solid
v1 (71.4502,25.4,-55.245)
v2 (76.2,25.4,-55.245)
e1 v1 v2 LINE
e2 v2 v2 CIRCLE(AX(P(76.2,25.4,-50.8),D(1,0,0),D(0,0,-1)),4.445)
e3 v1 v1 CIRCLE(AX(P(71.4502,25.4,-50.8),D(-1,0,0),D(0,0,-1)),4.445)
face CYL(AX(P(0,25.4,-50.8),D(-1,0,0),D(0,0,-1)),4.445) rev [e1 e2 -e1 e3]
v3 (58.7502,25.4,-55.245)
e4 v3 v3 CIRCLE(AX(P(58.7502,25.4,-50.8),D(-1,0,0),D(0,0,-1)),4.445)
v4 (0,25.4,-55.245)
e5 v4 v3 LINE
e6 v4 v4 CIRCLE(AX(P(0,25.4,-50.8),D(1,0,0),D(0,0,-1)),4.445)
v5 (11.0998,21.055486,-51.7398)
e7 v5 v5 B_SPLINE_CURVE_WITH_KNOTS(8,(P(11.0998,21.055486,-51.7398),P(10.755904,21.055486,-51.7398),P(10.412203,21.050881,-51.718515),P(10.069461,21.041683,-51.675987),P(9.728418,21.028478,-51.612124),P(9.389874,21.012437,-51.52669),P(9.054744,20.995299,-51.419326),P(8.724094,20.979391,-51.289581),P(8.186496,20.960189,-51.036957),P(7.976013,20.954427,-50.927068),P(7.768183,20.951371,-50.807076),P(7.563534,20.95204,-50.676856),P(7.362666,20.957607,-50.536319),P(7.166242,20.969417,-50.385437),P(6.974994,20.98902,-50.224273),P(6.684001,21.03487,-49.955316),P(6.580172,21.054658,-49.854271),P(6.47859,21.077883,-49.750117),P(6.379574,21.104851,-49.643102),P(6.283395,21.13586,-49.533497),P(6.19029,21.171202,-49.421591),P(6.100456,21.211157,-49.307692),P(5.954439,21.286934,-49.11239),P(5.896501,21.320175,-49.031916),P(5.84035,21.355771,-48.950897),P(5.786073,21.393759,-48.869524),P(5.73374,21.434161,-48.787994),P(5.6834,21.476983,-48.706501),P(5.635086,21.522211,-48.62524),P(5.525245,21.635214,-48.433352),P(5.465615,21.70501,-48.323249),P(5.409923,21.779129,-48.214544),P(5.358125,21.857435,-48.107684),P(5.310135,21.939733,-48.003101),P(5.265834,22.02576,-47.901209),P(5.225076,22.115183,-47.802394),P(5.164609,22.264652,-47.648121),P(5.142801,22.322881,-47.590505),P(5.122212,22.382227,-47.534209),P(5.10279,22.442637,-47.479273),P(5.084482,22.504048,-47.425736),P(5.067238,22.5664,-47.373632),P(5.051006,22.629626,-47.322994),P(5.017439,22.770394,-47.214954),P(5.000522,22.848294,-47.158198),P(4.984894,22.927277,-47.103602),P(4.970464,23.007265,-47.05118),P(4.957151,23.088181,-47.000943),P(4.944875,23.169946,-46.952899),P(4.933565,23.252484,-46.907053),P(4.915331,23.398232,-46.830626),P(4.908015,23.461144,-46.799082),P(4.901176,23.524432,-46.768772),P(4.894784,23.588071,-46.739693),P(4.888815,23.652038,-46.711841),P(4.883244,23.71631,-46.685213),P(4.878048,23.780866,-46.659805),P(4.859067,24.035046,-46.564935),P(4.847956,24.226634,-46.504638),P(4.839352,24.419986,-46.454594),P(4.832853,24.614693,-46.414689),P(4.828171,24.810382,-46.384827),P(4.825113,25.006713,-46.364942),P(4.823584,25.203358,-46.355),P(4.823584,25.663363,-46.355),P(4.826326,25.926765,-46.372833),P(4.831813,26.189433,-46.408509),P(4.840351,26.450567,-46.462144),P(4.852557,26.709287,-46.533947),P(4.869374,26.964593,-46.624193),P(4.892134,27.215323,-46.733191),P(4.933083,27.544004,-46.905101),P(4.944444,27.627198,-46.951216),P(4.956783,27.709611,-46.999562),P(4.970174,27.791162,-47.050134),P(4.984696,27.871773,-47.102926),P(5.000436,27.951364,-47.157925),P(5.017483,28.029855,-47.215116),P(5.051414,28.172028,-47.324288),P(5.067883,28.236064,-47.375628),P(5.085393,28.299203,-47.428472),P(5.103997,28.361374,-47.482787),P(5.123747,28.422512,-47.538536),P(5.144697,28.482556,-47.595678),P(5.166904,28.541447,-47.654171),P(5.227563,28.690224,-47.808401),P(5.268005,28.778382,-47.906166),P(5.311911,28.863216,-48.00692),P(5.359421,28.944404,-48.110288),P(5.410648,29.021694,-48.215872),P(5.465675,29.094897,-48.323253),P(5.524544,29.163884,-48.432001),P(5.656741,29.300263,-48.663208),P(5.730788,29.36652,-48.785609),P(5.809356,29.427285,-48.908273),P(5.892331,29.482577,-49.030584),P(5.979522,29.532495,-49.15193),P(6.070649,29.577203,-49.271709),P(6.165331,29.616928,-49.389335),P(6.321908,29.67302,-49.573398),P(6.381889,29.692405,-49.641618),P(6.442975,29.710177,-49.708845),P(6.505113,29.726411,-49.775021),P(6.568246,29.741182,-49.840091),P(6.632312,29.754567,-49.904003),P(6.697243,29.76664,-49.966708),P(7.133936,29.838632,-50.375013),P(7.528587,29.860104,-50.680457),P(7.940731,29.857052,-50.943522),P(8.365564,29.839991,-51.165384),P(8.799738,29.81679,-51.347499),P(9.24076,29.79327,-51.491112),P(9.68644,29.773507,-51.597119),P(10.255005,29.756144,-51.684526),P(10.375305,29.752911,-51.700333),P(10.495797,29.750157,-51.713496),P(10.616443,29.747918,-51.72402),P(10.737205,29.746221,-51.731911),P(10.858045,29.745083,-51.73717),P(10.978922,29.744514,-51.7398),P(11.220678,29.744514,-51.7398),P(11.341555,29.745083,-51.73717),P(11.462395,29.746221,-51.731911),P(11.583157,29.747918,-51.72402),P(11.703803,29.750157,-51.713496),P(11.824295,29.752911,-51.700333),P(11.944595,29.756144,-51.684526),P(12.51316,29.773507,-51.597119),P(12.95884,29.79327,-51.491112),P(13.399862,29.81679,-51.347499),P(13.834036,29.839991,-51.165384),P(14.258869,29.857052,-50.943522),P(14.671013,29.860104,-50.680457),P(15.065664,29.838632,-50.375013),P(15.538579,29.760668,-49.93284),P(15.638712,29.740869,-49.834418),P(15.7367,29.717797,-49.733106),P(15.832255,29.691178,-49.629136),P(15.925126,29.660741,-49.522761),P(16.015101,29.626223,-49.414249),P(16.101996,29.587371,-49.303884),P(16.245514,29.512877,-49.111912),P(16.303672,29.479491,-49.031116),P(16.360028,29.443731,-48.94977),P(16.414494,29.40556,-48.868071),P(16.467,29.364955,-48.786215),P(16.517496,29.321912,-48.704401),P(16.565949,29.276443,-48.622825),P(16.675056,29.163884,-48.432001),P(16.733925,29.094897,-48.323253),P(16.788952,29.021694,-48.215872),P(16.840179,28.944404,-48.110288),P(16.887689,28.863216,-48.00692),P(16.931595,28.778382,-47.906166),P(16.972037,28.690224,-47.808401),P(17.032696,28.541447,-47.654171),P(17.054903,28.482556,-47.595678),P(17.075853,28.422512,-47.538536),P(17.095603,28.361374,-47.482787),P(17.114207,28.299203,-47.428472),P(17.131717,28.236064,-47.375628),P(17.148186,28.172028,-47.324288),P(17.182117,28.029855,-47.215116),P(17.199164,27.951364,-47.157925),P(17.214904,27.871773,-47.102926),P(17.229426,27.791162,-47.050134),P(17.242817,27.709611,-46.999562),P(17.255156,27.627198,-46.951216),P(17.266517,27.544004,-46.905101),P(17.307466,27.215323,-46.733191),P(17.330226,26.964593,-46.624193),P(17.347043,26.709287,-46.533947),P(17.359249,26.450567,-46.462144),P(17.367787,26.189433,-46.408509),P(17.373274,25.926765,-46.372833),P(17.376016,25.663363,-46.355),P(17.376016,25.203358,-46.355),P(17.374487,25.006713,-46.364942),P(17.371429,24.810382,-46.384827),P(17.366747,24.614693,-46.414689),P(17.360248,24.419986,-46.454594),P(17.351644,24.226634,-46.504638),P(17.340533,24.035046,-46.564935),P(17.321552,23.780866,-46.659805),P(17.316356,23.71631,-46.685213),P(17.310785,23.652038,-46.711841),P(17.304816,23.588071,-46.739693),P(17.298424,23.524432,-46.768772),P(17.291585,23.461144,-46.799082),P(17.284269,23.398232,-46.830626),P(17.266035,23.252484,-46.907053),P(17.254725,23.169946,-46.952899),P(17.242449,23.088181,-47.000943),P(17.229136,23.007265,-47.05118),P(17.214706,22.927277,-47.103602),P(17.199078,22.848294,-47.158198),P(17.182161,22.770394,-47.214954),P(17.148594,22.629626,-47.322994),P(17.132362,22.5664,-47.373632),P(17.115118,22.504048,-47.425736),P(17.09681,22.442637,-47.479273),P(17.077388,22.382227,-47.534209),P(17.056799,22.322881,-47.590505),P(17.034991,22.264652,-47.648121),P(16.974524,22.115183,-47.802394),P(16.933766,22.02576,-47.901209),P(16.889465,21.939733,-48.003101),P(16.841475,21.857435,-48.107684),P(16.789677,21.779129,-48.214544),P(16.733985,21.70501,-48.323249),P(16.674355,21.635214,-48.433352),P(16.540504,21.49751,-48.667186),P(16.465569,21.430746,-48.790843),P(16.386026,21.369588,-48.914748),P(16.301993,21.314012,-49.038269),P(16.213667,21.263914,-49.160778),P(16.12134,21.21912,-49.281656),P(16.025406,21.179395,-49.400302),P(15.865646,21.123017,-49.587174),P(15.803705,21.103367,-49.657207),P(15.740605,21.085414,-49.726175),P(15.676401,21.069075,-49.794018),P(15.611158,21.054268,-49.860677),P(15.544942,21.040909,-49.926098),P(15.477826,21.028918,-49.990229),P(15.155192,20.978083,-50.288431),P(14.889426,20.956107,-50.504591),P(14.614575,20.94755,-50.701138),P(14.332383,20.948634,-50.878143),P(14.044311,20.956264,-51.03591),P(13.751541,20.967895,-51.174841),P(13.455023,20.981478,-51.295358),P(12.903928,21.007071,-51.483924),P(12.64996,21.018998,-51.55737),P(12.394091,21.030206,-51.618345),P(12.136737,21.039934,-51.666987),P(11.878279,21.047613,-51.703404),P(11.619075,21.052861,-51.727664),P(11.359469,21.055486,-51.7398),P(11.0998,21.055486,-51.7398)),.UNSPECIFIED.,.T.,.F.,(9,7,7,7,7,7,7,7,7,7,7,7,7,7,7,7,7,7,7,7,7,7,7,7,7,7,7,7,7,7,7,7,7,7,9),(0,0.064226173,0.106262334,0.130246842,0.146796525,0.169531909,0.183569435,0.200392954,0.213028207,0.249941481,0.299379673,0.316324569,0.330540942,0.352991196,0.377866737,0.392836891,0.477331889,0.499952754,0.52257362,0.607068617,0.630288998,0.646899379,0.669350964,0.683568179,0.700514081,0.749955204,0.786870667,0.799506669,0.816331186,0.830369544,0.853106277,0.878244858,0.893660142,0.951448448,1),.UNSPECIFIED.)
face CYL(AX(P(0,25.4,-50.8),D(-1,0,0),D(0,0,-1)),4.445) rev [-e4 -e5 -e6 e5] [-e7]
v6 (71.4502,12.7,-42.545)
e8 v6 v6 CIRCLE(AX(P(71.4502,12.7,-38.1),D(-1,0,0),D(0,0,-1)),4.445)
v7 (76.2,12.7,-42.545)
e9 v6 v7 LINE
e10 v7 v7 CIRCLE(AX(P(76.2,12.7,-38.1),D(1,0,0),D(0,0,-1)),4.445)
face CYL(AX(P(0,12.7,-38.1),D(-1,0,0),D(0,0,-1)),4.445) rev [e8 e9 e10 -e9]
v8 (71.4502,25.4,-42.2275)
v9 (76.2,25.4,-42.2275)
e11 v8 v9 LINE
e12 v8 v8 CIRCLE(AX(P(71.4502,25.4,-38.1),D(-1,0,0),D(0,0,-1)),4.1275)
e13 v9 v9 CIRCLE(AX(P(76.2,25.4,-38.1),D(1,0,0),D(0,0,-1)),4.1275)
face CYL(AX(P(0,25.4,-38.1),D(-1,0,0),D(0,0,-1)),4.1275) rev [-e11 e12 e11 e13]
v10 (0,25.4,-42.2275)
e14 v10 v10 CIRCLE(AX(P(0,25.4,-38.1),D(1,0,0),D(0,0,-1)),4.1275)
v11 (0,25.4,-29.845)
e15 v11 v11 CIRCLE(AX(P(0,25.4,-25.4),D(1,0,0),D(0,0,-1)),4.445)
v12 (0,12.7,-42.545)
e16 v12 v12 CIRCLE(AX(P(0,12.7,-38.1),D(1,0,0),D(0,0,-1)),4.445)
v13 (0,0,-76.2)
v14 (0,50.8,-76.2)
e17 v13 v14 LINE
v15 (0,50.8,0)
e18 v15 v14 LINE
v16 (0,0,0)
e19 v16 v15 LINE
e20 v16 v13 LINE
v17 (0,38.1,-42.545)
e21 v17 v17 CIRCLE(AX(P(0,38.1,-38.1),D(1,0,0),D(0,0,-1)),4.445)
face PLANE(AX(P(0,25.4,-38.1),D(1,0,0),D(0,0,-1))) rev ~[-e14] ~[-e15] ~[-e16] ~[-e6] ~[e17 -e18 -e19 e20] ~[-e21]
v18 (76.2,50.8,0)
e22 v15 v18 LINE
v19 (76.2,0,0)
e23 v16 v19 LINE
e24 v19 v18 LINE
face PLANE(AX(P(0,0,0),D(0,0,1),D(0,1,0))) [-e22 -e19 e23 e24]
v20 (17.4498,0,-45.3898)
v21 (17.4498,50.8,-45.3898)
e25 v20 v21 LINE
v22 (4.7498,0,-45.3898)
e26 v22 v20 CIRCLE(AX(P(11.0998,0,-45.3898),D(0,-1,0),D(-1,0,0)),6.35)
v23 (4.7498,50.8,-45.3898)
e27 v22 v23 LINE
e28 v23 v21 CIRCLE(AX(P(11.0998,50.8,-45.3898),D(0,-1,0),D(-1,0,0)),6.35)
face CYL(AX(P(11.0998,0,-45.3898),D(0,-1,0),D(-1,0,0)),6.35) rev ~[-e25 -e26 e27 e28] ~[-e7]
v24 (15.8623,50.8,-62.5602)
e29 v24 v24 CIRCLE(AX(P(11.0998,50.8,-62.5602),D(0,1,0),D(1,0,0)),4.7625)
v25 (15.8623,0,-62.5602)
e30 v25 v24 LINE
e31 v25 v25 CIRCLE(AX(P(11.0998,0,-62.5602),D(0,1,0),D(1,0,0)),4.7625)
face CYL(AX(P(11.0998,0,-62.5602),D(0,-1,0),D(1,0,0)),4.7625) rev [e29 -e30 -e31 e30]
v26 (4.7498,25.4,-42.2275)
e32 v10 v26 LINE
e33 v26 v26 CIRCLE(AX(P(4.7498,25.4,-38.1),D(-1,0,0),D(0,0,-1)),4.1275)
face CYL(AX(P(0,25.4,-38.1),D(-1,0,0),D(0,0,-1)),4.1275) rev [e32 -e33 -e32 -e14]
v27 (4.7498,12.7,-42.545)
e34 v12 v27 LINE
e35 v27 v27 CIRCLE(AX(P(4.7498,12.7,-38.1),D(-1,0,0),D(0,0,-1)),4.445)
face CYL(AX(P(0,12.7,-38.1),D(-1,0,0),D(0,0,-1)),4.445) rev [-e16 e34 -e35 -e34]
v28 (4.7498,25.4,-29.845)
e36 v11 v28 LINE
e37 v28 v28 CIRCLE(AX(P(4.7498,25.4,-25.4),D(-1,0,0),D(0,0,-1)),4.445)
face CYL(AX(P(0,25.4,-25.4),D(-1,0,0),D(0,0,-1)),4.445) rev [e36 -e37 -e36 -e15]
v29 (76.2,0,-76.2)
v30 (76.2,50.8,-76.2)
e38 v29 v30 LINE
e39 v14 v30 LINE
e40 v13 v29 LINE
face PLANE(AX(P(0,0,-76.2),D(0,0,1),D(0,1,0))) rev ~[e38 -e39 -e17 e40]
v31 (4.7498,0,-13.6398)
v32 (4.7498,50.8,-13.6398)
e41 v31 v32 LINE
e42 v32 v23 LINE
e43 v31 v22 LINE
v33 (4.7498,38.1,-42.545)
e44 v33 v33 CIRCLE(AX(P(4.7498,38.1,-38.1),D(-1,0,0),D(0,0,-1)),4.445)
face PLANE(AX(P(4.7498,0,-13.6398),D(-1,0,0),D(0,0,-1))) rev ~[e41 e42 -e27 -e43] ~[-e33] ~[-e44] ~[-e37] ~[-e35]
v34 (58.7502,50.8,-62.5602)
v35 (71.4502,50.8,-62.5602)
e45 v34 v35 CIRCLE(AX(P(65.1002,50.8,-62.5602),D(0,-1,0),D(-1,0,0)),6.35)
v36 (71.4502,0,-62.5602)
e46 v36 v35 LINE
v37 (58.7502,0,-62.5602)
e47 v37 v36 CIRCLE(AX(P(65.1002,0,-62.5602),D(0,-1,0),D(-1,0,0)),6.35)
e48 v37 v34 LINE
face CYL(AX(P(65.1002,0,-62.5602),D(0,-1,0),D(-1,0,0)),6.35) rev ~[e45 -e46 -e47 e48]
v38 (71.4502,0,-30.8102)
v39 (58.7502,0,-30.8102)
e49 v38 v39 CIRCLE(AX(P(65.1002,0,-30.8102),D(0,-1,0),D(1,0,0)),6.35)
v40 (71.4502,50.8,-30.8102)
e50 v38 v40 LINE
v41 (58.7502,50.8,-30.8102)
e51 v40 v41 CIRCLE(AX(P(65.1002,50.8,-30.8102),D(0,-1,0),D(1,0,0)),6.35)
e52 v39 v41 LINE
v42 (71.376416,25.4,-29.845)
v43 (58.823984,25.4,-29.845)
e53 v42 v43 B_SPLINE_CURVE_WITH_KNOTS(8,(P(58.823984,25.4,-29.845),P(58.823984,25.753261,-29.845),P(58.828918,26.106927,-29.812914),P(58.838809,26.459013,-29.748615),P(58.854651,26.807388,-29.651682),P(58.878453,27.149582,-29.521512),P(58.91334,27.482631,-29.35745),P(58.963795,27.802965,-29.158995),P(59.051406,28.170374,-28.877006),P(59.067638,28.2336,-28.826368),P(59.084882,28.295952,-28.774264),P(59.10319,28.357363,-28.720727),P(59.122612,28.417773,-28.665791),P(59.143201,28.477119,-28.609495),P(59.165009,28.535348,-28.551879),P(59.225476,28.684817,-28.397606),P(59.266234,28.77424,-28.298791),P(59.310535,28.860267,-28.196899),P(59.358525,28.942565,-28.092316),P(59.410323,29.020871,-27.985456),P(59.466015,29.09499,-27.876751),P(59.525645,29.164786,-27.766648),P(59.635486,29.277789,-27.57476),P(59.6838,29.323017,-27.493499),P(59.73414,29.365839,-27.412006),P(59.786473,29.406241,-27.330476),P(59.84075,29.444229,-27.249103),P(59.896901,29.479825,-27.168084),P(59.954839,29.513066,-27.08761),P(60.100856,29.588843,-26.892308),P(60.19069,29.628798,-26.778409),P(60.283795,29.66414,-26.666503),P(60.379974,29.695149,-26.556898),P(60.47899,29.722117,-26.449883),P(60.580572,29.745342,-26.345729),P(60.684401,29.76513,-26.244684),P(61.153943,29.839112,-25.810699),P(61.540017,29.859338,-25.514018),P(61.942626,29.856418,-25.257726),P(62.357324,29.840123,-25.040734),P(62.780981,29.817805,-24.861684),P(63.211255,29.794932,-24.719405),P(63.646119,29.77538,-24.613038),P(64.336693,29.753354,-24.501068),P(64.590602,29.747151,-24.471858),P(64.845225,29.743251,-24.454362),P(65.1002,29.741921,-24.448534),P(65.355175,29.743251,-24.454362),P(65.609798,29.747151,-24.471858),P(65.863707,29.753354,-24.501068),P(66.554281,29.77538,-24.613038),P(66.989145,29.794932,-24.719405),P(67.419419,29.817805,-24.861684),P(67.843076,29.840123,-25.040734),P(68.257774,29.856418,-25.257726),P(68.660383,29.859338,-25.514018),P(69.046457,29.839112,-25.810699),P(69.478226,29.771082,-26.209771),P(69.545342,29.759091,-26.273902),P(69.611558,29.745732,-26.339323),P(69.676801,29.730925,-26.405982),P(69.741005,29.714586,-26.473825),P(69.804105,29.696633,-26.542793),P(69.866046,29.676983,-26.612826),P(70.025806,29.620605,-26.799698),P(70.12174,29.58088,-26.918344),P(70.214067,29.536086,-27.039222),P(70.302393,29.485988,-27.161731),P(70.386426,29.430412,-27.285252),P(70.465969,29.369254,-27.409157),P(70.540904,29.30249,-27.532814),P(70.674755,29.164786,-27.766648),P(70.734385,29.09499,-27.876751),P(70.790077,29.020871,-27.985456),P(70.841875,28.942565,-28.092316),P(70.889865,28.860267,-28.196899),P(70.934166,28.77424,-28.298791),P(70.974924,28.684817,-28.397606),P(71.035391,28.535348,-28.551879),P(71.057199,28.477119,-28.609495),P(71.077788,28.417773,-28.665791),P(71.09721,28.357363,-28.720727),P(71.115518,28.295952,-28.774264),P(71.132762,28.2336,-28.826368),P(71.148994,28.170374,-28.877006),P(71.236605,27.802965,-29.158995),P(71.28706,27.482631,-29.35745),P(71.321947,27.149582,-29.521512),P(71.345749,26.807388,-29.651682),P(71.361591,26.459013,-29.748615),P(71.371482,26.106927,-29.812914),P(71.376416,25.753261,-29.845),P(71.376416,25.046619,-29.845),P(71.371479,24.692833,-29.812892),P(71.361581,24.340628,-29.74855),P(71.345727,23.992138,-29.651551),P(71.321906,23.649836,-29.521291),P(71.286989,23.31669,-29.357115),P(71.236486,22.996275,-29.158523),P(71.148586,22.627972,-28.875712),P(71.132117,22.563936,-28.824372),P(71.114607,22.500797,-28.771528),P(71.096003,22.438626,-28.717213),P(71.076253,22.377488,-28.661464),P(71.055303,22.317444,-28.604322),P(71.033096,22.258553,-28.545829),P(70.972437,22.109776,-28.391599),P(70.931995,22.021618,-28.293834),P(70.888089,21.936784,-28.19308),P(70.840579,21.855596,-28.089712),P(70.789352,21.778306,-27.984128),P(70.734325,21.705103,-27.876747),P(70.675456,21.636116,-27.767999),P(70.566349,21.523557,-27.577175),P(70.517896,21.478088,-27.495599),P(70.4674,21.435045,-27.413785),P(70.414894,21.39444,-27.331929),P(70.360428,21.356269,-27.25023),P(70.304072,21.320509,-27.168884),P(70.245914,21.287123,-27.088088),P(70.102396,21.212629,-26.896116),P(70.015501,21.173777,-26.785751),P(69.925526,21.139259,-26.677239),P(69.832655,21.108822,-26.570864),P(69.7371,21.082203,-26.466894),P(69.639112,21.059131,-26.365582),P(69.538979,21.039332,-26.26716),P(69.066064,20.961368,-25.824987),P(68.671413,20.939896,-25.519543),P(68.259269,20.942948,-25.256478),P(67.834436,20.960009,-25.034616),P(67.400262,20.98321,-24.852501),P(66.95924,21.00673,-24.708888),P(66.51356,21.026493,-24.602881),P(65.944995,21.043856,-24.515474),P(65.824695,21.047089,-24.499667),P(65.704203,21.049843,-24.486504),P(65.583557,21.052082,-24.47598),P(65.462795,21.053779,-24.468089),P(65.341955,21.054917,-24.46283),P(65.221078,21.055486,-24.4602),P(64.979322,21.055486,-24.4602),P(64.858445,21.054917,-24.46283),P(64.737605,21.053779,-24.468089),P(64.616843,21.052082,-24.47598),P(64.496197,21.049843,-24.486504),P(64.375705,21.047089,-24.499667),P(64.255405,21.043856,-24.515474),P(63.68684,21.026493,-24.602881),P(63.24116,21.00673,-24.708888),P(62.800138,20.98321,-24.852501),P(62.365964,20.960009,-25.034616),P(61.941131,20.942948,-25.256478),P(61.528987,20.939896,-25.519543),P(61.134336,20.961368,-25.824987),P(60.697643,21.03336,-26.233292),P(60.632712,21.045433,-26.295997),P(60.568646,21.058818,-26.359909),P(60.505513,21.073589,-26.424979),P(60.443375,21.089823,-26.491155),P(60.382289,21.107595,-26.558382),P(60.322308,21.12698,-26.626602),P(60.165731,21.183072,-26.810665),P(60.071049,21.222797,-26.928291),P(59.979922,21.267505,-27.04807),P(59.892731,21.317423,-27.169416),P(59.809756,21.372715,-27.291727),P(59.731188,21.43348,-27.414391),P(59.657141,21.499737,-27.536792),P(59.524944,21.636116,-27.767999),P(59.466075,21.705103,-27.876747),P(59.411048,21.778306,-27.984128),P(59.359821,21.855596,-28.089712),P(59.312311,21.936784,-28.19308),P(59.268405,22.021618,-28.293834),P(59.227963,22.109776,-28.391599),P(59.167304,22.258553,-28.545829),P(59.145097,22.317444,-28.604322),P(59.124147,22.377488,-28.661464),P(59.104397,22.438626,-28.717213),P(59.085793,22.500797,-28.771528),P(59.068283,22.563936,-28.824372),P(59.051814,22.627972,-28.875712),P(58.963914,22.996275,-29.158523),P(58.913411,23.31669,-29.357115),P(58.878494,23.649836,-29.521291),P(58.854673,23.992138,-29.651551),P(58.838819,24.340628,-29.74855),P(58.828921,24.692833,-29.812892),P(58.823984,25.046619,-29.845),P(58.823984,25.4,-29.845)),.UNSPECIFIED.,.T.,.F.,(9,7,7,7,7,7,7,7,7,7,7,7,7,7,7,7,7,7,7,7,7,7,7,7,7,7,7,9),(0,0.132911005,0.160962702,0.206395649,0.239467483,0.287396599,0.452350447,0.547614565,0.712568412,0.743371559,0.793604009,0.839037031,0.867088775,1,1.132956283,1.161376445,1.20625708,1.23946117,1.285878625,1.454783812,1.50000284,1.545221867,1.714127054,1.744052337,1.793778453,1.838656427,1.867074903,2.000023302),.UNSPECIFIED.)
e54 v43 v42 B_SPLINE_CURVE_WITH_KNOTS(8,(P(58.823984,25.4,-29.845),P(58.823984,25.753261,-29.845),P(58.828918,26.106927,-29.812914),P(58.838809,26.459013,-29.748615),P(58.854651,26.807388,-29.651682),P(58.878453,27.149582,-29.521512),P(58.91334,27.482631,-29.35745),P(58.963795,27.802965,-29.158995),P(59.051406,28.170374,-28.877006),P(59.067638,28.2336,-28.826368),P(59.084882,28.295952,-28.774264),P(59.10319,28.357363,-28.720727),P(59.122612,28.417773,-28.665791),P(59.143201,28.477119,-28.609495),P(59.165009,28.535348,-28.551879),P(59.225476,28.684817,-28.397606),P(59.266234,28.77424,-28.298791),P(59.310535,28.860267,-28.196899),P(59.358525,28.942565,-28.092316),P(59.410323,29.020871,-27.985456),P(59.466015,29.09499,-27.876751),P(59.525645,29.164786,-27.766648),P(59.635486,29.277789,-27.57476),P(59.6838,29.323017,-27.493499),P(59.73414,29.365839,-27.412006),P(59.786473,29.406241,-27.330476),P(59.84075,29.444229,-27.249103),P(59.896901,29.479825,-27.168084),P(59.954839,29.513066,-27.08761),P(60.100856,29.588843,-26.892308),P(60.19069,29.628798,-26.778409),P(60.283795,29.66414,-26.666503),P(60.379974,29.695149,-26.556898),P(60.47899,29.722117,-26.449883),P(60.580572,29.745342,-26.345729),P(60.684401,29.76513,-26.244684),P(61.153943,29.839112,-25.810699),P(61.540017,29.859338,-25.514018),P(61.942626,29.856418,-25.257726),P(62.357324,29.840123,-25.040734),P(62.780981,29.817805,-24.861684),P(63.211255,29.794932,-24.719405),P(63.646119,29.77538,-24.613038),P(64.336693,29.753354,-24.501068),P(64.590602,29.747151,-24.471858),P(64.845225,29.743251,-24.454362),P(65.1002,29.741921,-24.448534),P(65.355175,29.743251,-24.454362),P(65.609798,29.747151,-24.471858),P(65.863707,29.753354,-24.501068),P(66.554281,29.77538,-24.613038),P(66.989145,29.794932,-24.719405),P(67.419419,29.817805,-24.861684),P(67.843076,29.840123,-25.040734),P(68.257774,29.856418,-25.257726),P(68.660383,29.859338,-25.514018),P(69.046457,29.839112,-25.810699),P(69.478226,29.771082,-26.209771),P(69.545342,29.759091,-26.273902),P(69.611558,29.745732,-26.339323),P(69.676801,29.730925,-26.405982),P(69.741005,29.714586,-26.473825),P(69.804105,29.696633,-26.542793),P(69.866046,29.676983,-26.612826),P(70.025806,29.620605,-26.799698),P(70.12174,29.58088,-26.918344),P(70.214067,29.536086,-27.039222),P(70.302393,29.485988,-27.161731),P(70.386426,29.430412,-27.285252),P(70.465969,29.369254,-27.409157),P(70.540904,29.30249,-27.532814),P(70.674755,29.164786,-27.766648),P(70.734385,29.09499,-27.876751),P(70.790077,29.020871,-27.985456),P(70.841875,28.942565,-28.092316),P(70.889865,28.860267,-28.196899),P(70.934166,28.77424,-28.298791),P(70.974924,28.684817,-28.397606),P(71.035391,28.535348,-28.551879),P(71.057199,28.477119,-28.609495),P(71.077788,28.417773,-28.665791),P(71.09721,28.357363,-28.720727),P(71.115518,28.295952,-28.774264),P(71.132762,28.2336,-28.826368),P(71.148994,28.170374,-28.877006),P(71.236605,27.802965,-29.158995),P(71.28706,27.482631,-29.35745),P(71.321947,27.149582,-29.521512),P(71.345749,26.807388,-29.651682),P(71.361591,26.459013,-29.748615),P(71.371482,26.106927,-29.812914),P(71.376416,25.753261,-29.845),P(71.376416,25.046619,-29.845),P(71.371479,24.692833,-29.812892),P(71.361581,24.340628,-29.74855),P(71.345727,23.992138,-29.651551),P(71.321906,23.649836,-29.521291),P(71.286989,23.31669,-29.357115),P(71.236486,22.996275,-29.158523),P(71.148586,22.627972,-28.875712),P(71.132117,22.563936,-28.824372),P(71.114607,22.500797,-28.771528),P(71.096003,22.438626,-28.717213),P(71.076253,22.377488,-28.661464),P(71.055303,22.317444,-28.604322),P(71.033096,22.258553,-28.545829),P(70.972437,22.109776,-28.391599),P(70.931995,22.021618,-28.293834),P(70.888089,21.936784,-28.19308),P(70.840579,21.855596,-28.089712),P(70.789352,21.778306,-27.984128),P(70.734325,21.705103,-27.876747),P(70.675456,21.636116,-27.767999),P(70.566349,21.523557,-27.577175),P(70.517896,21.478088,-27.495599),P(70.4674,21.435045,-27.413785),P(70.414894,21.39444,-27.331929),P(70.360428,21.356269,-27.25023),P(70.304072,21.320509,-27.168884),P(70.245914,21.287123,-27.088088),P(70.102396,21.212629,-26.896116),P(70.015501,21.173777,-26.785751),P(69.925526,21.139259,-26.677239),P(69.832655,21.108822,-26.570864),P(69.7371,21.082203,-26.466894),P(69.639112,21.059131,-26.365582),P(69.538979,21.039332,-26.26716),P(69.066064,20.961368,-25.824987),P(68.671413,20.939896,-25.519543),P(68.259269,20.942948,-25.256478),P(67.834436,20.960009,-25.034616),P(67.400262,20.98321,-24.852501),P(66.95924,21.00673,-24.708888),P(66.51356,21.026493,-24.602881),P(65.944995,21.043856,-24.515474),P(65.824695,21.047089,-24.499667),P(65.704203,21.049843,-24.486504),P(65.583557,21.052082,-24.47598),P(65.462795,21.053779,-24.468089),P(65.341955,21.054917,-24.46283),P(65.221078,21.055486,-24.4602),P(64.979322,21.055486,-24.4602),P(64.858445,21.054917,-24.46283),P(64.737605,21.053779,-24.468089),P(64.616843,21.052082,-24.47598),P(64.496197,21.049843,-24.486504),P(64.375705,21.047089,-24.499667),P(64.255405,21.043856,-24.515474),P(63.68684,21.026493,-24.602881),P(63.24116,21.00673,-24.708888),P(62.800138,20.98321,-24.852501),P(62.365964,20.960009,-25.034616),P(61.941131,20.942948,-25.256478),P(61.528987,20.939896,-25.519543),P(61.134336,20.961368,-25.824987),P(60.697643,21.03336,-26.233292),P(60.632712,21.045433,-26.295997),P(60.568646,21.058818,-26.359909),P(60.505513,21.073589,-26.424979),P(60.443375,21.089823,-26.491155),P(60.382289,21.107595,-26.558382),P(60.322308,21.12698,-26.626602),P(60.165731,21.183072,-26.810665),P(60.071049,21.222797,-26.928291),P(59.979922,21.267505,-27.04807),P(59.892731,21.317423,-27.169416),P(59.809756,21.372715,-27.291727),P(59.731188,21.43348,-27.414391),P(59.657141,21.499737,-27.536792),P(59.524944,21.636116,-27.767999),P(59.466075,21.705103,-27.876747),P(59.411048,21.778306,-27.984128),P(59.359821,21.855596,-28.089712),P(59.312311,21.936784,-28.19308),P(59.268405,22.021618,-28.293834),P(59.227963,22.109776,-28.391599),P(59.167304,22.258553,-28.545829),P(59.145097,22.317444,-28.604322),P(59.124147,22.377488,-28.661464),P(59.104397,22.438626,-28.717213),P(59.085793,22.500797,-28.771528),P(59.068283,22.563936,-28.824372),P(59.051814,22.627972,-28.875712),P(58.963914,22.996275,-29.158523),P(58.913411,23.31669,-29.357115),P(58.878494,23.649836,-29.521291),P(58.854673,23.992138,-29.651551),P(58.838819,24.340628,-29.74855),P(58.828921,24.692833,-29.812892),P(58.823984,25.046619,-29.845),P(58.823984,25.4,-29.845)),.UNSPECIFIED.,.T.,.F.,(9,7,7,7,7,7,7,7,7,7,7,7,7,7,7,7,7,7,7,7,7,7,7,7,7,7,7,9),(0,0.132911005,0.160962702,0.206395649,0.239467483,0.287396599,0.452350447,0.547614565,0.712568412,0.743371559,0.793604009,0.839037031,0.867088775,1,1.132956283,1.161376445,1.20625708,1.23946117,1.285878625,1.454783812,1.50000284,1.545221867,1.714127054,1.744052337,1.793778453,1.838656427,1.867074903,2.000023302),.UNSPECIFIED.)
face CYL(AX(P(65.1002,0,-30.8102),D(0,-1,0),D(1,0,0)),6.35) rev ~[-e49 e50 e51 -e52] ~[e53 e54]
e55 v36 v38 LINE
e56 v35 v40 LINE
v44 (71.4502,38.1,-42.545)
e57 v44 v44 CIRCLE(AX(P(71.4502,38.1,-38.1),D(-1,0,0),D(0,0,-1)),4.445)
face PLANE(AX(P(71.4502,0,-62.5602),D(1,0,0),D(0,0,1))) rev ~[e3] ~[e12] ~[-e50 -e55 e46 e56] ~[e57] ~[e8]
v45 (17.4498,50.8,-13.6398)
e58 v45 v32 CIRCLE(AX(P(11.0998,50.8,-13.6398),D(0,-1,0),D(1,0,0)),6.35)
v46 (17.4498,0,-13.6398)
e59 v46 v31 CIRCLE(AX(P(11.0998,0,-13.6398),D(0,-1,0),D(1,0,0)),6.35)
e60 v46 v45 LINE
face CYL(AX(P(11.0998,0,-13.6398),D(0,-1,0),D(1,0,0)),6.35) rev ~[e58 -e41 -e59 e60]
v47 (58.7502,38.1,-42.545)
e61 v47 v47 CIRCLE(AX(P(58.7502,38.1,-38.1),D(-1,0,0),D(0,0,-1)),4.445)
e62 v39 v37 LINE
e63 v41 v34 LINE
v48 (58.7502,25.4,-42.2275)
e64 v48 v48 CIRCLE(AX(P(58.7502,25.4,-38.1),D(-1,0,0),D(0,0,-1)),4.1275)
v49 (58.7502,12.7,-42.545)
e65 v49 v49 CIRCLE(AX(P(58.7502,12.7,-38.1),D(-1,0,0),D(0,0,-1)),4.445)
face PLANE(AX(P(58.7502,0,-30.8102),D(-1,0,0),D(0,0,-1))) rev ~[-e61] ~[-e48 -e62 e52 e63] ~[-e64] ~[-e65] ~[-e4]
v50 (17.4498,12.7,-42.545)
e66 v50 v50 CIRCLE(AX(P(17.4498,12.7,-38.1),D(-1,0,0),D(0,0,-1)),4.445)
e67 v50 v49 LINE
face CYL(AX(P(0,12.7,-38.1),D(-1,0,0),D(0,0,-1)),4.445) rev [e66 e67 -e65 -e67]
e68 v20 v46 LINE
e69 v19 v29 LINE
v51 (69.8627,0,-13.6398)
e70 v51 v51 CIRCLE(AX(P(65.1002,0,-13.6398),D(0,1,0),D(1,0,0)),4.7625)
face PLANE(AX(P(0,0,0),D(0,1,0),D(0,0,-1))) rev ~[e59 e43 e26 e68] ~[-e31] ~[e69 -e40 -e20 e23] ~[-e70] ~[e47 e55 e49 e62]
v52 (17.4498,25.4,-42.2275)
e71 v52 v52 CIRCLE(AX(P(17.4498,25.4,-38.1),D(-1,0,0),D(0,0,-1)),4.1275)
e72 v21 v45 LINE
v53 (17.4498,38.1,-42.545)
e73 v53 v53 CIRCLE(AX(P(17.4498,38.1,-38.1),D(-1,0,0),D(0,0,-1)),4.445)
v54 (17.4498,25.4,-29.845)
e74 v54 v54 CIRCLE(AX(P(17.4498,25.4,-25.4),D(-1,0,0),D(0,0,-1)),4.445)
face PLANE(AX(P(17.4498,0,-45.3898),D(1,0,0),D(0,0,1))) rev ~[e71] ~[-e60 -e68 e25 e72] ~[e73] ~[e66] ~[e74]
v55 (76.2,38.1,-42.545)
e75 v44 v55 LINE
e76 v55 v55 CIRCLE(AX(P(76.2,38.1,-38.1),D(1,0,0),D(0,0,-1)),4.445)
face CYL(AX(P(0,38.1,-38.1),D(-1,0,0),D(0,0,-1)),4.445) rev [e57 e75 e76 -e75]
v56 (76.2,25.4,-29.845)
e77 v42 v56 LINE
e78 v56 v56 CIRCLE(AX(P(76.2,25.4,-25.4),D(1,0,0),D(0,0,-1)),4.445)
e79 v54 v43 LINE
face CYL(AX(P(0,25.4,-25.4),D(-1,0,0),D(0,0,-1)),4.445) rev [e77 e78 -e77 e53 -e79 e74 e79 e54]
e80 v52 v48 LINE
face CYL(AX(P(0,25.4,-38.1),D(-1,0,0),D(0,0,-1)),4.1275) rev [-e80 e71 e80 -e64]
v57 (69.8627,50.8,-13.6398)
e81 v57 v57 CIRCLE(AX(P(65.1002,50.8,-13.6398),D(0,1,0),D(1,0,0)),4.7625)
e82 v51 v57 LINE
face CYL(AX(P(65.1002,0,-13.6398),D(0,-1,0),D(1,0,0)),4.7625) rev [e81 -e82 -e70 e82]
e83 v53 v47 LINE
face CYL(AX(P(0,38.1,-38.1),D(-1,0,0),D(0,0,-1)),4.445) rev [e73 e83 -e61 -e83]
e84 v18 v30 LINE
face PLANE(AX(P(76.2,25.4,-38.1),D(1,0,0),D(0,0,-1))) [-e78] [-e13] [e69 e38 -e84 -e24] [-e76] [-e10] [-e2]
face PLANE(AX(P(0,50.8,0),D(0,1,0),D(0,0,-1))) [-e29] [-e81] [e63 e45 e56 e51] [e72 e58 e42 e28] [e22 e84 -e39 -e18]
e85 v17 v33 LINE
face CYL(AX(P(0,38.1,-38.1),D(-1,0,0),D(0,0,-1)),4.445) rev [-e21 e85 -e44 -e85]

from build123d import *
from build123d.topology import SkipClean

# Parameters (mm, degrees)
SKETCH_1_W          = 76.2
SKETCH_1_H          = 50.8
SKETCH_1_R          = 4.1275
SKETCH_1_R_2        = 4.445
EXTRUDE_1_DEPTH     = 76.2
SKETCH_3_W          = 76.2
SKETCH_3_H          = 76.2
SKETCH_3_R          = 4.7625
EXTRUDE_2_DEPTH     = 50.8
SKETCH_1_4_R        = 4.1275
SKETCH_1_4_R_2      = 4.445
CUT_EXTRUDE_2_DEPTH = 76.2
SKETCH_10_R         = 4.7625
CUT_EXTRUDE_3_DEPTH = 50.8


with BuildPart() as part:
    # 草图1 → 凸台-拉伸1 (new body)
    with BuildSketch(Plane(origin=(0, 0, 0), x_dir=(0, 0, -1), z_dir=(1, 0, 0))):
        with Locations((38.1, 25.4)):
            Rectangle(SKETCH_1_W, SKETCH_1_H)
        with Locations((38.1, 25.4)):
            Circle(SKETCH_1_R, mode=Mode.SUBTRACT)
        with Locations((25.4, 25.4)):
            Circle(SKETCH_1_R_2, mode=Mode.SUBTRACT)
        with Locations((50.8, 25.4)):
            Circle(SKETCH_1_R_2, mode=Mode.SUBTRACT)
        with Locations((38.1, 38.1)):
            Circle(SKETCH_1_R_2, mode=Mode.SUBTRACT)
        with Locations((38.1, 12.7)):
            Circle(SKETCH_1_R_2, mode=Mode.SUBTRACT)
    extrude(amount=EXTRUDE_1_DEPTH)

    # 草图3 → 凸台-拉伸2 (add)
    with BuildSketch(Plane(origin=(0, 0, 0), x_dir=(1, 0, 0), z_dir=(0, 1, 0))):
        with Locations((38.1, 38.1)):
            Rectangle(SKETCH_3_W, SKETCH_3_H)
        with Locations((11.0998, 62.5602)):
            Circle(SKETCH_3_R, mode=Mode.SUBTRACT)
        with Locations((65.1002, 13.6398)):
            Circle(SKETCH_3_R, mode=Mode.SUBTRACT)
        with BuildLine():
            Line((17.4498, 45.3898), (17.4498, 13.6398))
            ThreePointArc((17.4498, 13.6398), (11.0998, 7.2898), (4.7498, 13.6398))
            Line((4.7498, 13.6398), (4.7498, 45.3898))
            ThreePointArc((4.7498, 45.3898), (11.0998, 51.7398), (17.4498, 45.3898))
        make_face(mode=Mode.SUBTRACT)
        with BuildLine():
            Line((58.7502, 30.8102), (58.7502, 62.5602))
            ThreePointArc((58.7502, 62.5602), (65.1002, 68.9102), (71.4502, 62.5602))
            Line((71.4502, 62.5602), (71.4502, 30.8102))
            ThreePointArc((71.4502, 30.8102), (65.1002, 24.4602), (58.7502, 30.8102))
        make_face(mode=Mode.SUBTRACT)
    extrude(amount=EXTRUDE_2_DEPTH)

    # 草图1<4> → 切除-拉伸2 (cut)
    with SkipClean():  # the faces are left unmerged after this step: merging them gives an invalid solid
        with BuildSketch(Plane(origin=(0, 0, 0), x_dir=(0, 0, -1), z_dir=(1, 0, 0))):
            with Locations((38.1, 25.4)):
                Circle(SKETCH_1_4_R)
            with Locations((25.4, 25.4)):
                Circle(SKETCH_1_4_R_2)
            with Locations((50.8, 25.4)):
                Circle(SKETCH_1_4_R_2)
            with Locations((38.1, 38.1)):
                Circle(SKETCH_1_4_R_2)
            with Locations((38.1, 12.7)):
                Circle(SKETCH_1_4_R_2)
        extrude(amount=CUT_EXTRUDE_2_DEPTH, mode=Mode.SUBTRACT)

    # 草图10 → 切除-拉伸3 (cut)
    with BuildSketch(Plane(origin=(0, 0, 0), x_dir=(1, 0, 0), z_dir=(0, 1, 0))):
        with Locations((11.0998, 62.5602)):
            Circle(SKETCH_10_R)
        with Locations((65.1002, 13.6398)):
            Circle(SKETCH_10_R)
        with BuildLine():
            Line((4.7498, 13.6398), (4.7498, 45.3898))
            ThreePointArc((4.7498, 45.3898), (11.0998, 51.7398), (17.4498, 45.3898))
            Line((17.4498, 45.3898), (17.4498, 13.6398))
            ThreePointArc((17.4498, 13.6398), (11.0998, 7.2898), (4.7498, 13.6398))
        make_face()
        with BuildLine():
            Line((71.4502, 62.5602), (71.4502, 30.8102))
            ThreePointArc((71.4502, 30.8102), (65.1002, 24.4602), (58.7502, 30.8102))
            Line((58.7502, 30.8102), (58.7502, 62.5602))
            ThreePointArc((58.7502, 62.5602), (65.1002, 68.9102), (71.4502, 62.5602))
        make_face()
    extrude(amount=CUT_EXTRUDE_3_DEPTH, mode=Mode.SUBTRACT)


solid = part.part
